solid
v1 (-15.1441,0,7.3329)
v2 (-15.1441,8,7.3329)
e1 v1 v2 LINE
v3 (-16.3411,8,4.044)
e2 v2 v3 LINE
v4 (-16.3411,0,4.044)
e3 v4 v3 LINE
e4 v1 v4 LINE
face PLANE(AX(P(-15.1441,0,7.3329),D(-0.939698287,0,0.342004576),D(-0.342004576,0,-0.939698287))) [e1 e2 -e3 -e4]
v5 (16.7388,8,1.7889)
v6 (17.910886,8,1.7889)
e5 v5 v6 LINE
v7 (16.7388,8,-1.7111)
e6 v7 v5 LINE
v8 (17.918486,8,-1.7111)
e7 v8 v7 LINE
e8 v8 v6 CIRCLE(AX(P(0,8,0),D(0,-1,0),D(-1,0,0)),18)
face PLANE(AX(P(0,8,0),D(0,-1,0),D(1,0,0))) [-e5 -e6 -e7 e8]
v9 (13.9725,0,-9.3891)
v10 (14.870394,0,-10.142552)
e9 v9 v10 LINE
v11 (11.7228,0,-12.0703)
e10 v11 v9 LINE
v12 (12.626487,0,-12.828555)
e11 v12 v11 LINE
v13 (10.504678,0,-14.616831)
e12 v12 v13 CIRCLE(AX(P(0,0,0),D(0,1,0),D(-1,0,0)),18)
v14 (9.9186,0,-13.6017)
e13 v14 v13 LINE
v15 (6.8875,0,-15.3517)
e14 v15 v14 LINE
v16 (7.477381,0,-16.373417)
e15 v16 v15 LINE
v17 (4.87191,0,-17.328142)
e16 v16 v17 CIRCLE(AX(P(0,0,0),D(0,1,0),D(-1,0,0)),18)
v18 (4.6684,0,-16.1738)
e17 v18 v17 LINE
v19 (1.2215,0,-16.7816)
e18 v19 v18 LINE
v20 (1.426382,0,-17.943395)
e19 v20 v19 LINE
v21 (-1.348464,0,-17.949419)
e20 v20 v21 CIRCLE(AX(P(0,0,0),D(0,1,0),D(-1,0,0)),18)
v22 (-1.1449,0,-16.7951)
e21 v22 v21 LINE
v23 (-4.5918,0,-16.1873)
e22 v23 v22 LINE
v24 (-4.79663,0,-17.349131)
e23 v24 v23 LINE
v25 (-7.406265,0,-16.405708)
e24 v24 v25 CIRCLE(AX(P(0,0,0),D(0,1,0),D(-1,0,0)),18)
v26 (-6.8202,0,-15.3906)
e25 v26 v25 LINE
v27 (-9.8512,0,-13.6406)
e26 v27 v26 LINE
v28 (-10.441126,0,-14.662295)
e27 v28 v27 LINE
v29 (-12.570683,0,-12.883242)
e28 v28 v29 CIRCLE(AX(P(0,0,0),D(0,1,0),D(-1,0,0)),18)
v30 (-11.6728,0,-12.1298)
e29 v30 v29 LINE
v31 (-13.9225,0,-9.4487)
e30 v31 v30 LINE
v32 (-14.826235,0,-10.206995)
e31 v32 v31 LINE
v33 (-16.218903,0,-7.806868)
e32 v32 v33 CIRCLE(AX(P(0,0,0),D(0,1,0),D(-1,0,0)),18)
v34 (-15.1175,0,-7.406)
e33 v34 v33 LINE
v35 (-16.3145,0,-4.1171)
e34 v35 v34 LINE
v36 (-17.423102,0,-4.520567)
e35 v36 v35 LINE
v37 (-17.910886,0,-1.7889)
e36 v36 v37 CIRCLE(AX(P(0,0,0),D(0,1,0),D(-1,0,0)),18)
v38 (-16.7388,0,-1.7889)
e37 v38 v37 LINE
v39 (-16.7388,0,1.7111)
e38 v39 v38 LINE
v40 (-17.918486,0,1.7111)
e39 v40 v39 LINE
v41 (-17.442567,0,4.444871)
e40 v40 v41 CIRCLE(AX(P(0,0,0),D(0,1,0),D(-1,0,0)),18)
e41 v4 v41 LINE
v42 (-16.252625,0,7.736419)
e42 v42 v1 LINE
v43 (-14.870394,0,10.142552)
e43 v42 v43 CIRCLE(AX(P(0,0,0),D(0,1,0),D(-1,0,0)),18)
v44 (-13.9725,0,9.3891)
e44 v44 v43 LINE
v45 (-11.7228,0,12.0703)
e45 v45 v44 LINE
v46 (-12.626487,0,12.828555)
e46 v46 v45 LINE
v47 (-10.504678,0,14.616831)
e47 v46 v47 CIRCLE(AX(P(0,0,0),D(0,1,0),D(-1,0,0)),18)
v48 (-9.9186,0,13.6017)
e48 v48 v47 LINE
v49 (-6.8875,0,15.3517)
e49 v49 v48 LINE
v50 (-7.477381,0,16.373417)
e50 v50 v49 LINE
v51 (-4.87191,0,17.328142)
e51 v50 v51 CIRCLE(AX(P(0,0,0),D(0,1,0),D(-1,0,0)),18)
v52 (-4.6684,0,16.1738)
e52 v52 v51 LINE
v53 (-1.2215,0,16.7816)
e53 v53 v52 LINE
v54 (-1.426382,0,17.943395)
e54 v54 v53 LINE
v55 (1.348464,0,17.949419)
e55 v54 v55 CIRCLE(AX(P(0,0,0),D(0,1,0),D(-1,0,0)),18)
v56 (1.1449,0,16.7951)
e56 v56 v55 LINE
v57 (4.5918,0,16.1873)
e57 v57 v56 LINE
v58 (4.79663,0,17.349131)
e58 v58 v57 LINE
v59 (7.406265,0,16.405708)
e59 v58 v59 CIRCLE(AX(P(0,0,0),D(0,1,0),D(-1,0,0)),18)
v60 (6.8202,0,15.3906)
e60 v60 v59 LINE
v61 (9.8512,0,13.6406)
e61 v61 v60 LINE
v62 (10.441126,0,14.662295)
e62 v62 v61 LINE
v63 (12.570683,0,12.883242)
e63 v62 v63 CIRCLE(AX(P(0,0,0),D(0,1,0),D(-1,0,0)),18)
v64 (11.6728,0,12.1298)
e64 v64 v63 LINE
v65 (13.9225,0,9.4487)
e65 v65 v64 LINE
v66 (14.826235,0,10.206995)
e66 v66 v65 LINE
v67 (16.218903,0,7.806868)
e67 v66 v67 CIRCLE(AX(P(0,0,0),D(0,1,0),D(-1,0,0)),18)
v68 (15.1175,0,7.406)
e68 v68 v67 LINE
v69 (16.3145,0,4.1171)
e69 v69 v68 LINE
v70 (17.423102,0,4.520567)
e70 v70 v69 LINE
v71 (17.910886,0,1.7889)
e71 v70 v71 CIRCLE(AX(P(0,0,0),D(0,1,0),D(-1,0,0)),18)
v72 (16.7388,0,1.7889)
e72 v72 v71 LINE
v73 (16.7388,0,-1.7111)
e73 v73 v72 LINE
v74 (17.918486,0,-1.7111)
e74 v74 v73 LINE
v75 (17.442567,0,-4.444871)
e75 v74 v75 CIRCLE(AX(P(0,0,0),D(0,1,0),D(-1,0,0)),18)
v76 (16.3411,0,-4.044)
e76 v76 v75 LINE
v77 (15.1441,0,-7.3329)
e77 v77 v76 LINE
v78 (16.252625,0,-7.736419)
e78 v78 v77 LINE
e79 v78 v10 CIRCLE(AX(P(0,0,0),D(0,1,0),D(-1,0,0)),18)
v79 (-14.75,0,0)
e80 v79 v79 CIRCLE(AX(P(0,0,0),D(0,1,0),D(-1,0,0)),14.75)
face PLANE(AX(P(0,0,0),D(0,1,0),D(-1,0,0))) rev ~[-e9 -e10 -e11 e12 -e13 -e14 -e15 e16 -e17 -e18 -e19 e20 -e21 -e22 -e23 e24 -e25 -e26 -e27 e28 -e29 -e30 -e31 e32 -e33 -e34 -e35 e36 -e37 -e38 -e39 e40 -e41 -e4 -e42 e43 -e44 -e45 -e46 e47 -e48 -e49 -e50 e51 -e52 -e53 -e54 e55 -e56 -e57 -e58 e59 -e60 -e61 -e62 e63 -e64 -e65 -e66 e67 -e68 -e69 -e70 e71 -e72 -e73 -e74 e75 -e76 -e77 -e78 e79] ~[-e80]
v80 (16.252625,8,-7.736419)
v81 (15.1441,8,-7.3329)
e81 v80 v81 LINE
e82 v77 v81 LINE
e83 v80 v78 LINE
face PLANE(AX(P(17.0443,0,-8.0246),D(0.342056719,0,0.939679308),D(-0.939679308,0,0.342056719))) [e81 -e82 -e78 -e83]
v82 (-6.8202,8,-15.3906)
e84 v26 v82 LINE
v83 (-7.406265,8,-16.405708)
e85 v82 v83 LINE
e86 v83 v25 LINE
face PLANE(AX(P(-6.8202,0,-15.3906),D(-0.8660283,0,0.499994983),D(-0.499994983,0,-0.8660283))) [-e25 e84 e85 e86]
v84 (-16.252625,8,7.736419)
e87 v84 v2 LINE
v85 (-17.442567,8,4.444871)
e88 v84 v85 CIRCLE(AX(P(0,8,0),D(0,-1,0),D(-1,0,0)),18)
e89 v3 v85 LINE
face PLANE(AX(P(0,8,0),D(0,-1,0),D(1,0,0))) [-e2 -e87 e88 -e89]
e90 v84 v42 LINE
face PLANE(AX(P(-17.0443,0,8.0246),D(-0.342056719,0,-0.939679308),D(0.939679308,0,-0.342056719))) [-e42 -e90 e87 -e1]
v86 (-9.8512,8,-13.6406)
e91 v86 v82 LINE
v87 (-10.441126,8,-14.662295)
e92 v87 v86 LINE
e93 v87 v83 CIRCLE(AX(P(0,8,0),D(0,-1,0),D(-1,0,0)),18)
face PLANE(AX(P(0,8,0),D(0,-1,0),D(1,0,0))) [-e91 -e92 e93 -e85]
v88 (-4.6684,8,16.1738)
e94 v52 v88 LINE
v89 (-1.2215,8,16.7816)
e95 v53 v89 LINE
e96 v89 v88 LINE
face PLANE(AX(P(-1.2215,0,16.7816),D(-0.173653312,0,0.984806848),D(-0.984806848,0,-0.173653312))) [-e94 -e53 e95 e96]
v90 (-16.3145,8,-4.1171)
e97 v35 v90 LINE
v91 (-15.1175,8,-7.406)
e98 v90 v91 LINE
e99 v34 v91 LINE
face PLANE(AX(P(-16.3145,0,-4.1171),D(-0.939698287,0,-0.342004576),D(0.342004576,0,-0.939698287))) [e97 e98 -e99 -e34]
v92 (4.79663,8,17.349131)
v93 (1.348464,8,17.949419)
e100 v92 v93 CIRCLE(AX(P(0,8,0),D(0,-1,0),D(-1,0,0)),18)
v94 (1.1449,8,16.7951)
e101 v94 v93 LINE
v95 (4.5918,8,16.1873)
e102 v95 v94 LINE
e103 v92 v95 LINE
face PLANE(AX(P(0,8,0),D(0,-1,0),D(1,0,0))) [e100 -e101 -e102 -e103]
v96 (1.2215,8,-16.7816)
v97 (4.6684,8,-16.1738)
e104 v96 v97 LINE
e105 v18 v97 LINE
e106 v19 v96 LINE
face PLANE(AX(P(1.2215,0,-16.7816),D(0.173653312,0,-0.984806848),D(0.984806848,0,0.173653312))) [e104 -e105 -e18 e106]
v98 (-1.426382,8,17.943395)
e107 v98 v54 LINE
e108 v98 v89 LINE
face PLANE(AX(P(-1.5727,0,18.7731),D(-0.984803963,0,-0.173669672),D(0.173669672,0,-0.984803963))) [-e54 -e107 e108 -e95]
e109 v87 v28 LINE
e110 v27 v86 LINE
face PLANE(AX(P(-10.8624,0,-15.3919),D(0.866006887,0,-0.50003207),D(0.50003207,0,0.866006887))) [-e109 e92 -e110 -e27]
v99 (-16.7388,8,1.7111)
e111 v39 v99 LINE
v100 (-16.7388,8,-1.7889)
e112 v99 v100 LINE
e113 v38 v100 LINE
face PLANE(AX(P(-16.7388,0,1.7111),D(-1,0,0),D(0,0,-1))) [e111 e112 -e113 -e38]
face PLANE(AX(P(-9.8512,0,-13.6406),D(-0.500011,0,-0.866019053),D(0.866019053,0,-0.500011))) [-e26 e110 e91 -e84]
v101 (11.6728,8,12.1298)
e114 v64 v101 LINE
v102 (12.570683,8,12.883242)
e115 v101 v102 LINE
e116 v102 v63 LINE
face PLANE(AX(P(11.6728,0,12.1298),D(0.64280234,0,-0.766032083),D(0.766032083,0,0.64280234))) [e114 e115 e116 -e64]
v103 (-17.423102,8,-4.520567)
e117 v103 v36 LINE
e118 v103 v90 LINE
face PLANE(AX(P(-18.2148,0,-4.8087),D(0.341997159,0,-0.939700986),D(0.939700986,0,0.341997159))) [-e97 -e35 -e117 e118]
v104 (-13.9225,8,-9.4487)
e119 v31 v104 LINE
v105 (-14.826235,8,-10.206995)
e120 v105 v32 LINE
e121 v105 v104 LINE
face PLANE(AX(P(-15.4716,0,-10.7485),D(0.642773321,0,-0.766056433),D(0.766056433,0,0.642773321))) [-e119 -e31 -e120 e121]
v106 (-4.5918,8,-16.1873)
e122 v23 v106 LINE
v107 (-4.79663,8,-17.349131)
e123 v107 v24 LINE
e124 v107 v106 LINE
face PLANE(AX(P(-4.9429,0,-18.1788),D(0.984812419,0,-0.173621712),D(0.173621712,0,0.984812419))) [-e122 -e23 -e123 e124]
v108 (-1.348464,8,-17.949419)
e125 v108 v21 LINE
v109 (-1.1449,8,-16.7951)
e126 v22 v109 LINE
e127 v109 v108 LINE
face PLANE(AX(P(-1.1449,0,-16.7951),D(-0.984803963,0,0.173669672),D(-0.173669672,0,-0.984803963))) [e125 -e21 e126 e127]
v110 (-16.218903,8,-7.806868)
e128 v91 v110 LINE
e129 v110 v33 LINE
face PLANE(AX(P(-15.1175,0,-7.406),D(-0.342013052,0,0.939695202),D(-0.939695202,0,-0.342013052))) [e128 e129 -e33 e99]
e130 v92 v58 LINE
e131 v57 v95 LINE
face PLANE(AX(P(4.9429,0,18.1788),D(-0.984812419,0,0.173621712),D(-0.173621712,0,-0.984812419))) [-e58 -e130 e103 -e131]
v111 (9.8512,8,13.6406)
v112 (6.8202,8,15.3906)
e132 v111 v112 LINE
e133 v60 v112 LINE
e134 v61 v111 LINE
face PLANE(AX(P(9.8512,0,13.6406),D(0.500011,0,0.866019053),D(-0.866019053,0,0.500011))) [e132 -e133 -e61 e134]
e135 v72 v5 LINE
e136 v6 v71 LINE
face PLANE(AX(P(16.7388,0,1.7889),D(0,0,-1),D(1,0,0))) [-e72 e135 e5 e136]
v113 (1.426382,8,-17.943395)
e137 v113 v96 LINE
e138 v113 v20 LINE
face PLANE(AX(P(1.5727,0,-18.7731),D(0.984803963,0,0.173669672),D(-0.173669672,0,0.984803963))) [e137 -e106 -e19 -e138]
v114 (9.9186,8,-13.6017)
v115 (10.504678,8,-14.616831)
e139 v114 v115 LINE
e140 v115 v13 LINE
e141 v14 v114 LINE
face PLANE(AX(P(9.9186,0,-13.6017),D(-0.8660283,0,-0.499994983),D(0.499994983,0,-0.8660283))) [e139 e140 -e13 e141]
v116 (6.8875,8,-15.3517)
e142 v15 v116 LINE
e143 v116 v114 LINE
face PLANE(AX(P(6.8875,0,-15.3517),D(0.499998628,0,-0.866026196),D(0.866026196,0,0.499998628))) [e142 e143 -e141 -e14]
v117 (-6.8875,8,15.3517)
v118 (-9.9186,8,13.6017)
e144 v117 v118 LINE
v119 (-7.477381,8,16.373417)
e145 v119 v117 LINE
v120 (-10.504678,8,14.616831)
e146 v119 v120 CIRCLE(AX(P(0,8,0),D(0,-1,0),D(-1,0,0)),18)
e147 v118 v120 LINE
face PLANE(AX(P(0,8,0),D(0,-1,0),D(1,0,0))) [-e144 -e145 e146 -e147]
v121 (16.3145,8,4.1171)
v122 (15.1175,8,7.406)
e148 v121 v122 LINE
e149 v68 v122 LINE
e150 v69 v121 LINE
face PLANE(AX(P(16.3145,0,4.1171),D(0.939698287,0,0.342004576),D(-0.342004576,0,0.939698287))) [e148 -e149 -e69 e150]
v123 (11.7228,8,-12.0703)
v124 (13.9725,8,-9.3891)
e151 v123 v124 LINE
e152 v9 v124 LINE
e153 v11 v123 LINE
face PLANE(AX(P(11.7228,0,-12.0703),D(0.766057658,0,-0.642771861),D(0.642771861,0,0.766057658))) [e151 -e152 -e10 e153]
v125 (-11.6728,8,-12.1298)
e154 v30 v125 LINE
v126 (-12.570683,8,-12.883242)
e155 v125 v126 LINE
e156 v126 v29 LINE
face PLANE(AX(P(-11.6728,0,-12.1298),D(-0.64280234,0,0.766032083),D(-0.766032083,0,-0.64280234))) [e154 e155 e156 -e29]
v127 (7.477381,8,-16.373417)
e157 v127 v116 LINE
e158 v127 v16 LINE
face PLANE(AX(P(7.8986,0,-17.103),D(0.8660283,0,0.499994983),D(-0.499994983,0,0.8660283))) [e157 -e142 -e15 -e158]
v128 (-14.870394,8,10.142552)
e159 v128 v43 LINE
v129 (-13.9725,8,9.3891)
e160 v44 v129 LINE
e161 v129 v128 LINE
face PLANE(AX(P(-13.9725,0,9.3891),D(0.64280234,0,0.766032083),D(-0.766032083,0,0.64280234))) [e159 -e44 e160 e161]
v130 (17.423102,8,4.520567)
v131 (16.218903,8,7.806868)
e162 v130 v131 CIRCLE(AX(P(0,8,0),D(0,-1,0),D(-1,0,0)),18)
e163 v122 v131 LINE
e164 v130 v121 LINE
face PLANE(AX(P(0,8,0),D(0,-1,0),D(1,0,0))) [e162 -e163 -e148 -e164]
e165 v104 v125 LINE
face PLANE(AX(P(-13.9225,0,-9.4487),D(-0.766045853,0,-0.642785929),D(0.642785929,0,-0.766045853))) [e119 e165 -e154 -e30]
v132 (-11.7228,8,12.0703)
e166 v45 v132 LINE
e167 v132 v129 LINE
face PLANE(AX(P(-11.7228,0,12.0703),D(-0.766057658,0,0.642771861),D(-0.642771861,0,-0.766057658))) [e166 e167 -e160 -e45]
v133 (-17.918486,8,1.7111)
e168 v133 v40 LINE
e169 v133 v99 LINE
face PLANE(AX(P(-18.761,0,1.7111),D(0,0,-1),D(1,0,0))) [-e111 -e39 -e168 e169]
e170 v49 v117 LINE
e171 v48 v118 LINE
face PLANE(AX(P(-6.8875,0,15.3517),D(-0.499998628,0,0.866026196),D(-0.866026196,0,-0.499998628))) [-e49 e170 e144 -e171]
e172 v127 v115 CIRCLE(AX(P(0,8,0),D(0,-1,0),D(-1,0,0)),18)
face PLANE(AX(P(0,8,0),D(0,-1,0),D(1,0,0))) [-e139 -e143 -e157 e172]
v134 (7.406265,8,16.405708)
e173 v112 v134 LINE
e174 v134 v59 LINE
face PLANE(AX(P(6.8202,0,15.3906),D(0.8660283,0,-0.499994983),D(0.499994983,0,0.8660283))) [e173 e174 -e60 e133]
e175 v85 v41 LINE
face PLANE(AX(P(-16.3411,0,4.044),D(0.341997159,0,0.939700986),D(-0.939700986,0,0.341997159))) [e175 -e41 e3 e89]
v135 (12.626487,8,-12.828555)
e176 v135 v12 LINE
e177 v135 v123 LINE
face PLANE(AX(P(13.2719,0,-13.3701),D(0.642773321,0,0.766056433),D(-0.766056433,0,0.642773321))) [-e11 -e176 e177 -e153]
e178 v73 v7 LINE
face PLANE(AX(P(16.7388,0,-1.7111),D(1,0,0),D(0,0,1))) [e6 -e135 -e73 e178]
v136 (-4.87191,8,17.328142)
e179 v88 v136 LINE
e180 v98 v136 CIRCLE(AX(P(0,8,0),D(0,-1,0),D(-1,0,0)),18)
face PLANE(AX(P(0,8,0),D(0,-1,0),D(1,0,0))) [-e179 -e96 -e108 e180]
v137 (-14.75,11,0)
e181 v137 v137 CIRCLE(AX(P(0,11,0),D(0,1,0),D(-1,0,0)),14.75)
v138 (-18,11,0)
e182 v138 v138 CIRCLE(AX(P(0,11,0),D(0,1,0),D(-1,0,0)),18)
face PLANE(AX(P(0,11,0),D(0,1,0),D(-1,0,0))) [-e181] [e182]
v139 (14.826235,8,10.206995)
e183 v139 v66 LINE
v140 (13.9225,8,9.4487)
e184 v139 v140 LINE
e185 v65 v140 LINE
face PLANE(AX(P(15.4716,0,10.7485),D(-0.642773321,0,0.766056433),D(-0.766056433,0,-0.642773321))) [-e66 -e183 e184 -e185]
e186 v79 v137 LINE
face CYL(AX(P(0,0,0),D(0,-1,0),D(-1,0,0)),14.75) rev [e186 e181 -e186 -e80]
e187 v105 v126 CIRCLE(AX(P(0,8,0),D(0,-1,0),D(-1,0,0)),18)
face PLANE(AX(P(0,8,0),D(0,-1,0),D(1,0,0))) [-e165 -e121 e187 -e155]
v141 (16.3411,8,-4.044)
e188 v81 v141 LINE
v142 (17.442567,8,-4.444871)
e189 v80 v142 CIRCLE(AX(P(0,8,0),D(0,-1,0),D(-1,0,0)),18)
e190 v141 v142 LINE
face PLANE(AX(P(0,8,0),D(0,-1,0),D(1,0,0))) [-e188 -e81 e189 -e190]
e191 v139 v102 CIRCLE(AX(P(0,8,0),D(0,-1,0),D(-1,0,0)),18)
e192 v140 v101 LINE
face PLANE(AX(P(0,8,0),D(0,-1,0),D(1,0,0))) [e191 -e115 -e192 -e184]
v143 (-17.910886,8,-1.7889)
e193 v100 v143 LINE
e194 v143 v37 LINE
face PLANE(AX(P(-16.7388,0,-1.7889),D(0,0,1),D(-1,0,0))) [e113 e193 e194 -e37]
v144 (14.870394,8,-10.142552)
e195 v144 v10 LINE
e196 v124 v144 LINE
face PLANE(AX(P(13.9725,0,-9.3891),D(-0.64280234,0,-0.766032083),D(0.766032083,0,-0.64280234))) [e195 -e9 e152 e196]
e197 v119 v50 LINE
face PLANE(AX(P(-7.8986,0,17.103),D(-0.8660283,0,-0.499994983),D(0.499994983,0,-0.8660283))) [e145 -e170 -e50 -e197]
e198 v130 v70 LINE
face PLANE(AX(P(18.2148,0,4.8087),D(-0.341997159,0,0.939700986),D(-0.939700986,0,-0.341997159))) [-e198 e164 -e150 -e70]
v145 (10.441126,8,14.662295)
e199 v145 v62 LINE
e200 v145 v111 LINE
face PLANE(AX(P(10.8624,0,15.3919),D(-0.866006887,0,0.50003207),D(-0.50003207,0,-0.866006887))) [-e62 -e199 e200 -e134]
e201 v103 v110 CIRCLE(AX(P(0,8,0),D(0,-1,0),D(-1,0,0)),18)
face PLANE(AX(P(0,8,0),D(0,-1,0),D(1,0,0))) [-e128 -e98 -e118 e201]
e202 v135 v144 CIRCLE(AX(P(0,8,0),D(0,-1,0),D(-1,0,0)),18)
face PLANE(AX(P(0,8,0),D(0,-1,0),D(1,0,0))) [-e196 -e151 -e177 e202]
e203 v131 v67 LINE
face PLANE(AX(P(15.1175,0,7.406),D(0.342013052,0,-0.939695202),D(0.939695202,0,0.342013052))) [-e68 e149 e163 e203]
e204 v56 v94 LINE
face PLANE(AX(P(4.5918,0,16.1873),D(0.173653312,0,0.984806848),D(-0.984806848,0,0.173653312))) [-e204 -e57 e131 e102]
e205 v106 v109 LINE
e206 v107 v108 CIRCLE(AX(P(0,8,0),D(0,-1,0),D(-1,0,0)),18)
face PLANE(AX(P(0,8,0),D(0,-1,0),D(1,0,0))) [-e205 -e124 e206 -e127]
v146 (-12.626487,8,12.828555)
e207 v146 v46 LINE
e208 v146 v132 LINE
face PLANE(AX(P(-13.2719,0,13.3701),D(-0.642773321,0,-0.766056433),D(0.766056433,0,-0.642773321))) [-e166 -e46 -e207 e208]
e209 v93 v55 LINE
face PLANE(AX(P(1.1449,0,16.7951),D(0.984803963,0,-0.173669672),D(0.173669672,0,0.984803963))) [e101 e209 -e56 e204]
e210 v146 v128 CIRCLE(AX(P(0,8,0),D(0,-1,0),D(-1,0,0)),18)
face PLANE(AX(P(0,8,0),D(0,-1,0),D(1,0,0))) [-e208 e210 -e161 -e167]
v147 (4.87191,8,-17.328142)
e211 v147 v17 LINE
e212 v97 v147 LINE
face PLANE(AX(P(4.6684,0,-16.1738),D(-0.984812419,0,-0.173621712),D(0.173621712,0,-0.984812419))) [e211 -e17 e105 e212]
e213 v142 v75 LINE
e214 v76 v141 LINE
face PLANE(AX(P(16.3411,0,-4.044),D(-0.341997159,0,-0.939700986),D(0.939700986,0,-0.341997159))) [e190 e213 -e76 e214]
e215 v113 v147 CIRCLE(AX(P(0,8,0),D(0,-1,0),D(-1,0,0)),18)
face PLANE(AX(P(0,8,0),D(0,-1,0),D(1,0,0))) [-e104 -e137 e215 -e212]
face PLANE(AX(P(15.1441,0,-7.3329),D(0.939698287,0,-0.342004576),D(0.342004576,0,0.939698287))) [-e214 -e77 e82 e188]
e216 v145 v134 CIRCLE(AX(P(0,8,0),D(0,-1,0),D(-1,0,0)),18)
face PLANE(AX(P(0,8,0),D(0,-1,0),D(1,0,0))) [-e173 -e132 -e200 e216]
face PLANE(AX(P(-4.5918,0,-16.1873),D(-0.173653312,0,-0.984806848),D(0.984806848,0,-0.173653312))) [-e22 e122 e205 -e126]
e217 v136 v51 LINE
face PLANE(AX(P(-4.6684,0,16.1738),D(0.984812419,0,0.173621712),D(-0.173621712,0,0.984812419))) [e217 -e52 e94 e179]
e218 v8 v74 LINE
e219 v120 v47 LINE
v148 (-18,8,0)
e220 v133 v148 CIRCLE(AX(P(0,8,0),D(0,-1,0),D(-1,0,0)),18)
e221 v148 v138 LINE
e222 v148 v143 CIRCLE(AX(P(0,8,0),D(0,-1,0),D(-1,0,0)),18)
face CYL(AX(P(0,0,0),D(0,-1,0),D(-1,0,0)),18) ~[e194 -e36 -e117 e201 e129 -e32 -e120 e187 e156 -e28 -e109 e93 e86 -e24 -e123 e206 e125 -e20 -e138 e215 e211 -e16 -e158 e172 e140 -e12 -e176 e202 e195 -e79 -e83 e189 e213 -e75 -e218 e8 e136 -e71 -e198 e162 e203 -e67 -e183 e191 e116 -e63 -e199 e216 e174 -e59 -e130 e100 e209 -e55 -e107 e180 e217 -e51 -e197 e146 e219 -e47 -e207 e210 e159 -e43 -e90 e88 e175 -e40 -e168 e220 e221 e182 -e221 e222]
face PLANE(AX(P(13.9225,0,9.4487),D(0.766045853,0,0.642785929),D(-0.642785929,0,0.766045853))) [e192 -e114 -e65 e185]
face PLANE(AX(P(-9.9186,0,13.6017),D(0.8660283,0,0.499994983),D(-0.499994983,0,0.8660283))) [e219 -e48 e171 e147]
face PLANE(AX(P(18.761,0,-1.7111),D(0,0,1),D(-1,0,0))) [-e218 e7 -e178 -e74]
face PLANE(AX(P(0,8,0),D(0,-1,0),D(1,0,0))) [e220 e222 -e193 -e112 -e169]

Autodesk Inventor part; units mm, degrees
ref_plane "YZ Plane" through (0, 0, 0) normal (1, 0, 0) x (0, 1, 0)
ref_plane "XZ Plane" through (0, 0, 0) normal (0, 1, 0) x (-1, 0, 0)
ref_plane "XY Plane" through (0, 0, 0) normal (0, 0, 1) x (1, 0, 0)
sketch "Sketch1" plane through (0, 0, 0) normal (0, 1, 0) x (-1, 0, 0)
  circle A0 centre (0, 0) radius 14.75
  circle A1 centre (0, 0) radius 18
  dimension "d0" = 29.5
  dimension "d1" = 36
extrude "Extrusion1" add sketch "Sketch1" along normal blind 11
thread "Thread1" size "M30x1" class "6H" standard "ANSI Metric M Profile" full length
sketch "Sketch2" plane through (0, 0, 0) normal (0, -1, 0) x (1, 0, 0)
  circle A0 centre (0, 0) radius 14.75 projected
  line L0 (-18.761, 1.7111) -> (-16.7388, 1.7111)
  line L1 (-16.7388, 1.7111) -> (-16.7388, -1.7889)
  line L2 (-16.7388, -1.7889) -> (-18.761, -1.7889)
  line L3 (-18.761, -1.7889) -> (-18.761, 1.7111)
  line L4 (-18.2148, -4.8087) -> (-16.3145, -4.1171)
  line L5 (-16.3145, -4.1171) -> (-15.1175, -7.406)
  line L6 (-15.1175, -7.406) -> (-17.0177, -8.0976)
  line L7 (-17.0177, -8.0976) -> (-18.2148, -4.8087)
  line L8 (-15.4716, -10.7485) -> (-13.9225, -9.4487)
  line L9 (-13.9225, -9.4487) -> (-11.6728, -12.1298)
  line L10 (-11.6728, -12.1298) -> (-13.2219, -13.4297)
  line L11 (-13.2219, -13.4297) -> (-15.4716, -10.7485)
  line L12 (-10.8624, -15.3919) -> (-9.8512, -13.6406)
  line L13 (-9.8512, -13.6406) -> (-6.8202, -15.3906)
  line L14 (-6.8202, -15.3906) -> (-7.8313, -17.1419)
  line L15 (-7.8313, -17.1419) -> (-10.8624, -15.3919)
  line L16 (-4.9429, -18.1788) -> (-4.5918, -16.1873)
  line L17 (-4.5918, -16.1873) -> (-1.1449, -16.7951)
  line L18 (-1.1449, -16.7951) -> (-1.4961, -18.7866)
  line L19 (-1.4961, -18.7866) -> (-4.9429, -18.1788)
  line L20 (1.5727, -18.7731) -> (1.2215, -16.7816)
  line L21 (1.2215, -16.7816) -> (4.6684, -16.1738)
  line L22 (4.6684, -16.1738) -> (5.0195, -18.1653)
  line L23 (5.0195, -18.1653) -> (1.5727, -18.7731)
  line L24 (7.8986, -17.103) -> (6.8875, -15.3517)
  line L25 (6.8875, -15.3517) -> (9.9186, -13.6017)
  line L26 (9.9186, -13.6017) -> (10.9297, -15.353)
  line L27 (10.9297, -15.353) -> (7.8986, -17.103)
  line L28 (13.2719, -13.3701) -> (11.7228, -12.0703)
  line L29 (11.7228, -12.0703) -> (13.9725, -9.3891)
  line L30 (13.9725, -9.3891) -> (15.5216, -10.689)
  line L31 (15.5216, -10.689) -> (13.2719, -13.3701)
  line L32 (17.0443, -8.0246) -> (15.1441, -7.3329)
  line L33 (15.1441, -7.3329) -> (16.3411, -4.044)
  line L34 (16.3411, -4.044) -> (18.2414, -4.7356)
  line L35 (18.2414, -4.7356) -> (17.0443, -8.0246)
  line L36 (18.761, -1.7111) -> (16.7388, -1.7111)
  line L37 (16.7388, -1.7111) -> (16.7388, 1.7889)
  line L38 (16.7388, 1.7889) -> (18.761, 1.7889)
  line L39 (18.761, 1.7889) -> (18.761, -1.7111)
  line L40 (18.2148, 4.8087) -> (16.3145, 4.1171)
  line L41 (16.3145, 4.1171) -> (15.1175, 7.406)
  line L42 (15.1175, 7.406) -> (17.0177, 8.0976)
  line L43 (17.0177, 8.0976) -> (18.2148, 4.8087)
  line L44 (15.4716, 10.7485) -> (13.9225, 9.4487)
  line L45 (13.9225, 9.4487) -> (11.6728, 12.1298)
  line L46 (11.6728, 12.1298) -> (13.2219, 13.4297)
  line L47 (13.2219, 13.4297) -> (15.4716, 10.7485)
  line L48 (10.8624, 15.3919) -> (9.8512, 13.6406)
  line L49 (9.8512, 13.6406) -> (6.8202, 15.3906)
  line L50 (6.8202, 15.3906) -> (7.8313, 17.1419)
  line L51 (7.8313, 17.1419) -> (10.8624, 15.3919)
  line L52 (4.9429, 18.1788) -> (4.5918, 16.1873)
  line L53 (4.5918, 16.1873) -> (1.1449, 16.7951)
  line L54 (1.1449, 16.7951) -> (1.4961, 18.7866)
  line L55 (1.4961, 18.7866) -> (4.9429, 18.1788)
  line L56 (-1.5727, 18.7731) -> (-1.2215, 16.7816)
  line L57 (-1.2215, 16.7816) -> (-4.6684, 16.1738)
  line L58 (-4.6684, 16.1738) -> (-5.0195, 18.1653)
  line L59 (-5.0195, 18.1653) -> (-1.5727, 18.7731)
  line L60 (-7.8986, 17.103) -> (-6.8875, 15.3517)
  line L61 (-6.8875, 15.3517) -> (-9.9186, 13.6017)
  line L62 (-9.9186, 13.6017) -> (-10.9297, 15.353)
  line L63 (-10.9297, 15.353) -> (-7.8986, 17.103)
  line L64 (-13.2719, 13.3701) -> (-11.7228, 12.0703)
  line L65 (-11.7228, 12.0703) -> (-13.9725, 9.3891)
  line L66 (-13.9725, 9.3891) -> (-15.5216, 10.689)
  line L67 (-15.5216, 10.689) -> (-13.2719, 13.3701)
  line L68 (-17.0443, 8.0246) -> (-15.1441, 7.3329)
  line L69 (-15.1441, 7.3329) -> (-16.3411, 4.044)
  line L70 (-16.3411, 4.044) -> (-18.2414, 4.7356)
  line L71 (-18.2414, 4.7356) -> (-17.0443, 8.0246)
  dimension "d6" = 3.5
  dimension "d10" = 360
extrude "Extrusion2" cut sketch "Sketch2" against normal blind 8 contours L0 L1 L2 L3 | L4 L5 L6 L7 | L8 L9 L10 L11 | L12 L13 L14 L15 | L16 L17 L18 L19 | L20 L21 L22 L23 | L24 L25 L26 L27 | L28 L29 L30 L31 | L32 L33 L34 L35 | L36 L37 L38 L39 | L40 L41 L42 L43 | L44 L45 L46 L47 | L48 L49 L50 L51 | L52 L53 L54 L55 | L56 L57 L58 L59 | L60 L61 L62 L63 | L64 L65 L66 L67 | L68 L69 L70 L71
properties part number "OBSN-30-B_ring" material "Nylon 6"
